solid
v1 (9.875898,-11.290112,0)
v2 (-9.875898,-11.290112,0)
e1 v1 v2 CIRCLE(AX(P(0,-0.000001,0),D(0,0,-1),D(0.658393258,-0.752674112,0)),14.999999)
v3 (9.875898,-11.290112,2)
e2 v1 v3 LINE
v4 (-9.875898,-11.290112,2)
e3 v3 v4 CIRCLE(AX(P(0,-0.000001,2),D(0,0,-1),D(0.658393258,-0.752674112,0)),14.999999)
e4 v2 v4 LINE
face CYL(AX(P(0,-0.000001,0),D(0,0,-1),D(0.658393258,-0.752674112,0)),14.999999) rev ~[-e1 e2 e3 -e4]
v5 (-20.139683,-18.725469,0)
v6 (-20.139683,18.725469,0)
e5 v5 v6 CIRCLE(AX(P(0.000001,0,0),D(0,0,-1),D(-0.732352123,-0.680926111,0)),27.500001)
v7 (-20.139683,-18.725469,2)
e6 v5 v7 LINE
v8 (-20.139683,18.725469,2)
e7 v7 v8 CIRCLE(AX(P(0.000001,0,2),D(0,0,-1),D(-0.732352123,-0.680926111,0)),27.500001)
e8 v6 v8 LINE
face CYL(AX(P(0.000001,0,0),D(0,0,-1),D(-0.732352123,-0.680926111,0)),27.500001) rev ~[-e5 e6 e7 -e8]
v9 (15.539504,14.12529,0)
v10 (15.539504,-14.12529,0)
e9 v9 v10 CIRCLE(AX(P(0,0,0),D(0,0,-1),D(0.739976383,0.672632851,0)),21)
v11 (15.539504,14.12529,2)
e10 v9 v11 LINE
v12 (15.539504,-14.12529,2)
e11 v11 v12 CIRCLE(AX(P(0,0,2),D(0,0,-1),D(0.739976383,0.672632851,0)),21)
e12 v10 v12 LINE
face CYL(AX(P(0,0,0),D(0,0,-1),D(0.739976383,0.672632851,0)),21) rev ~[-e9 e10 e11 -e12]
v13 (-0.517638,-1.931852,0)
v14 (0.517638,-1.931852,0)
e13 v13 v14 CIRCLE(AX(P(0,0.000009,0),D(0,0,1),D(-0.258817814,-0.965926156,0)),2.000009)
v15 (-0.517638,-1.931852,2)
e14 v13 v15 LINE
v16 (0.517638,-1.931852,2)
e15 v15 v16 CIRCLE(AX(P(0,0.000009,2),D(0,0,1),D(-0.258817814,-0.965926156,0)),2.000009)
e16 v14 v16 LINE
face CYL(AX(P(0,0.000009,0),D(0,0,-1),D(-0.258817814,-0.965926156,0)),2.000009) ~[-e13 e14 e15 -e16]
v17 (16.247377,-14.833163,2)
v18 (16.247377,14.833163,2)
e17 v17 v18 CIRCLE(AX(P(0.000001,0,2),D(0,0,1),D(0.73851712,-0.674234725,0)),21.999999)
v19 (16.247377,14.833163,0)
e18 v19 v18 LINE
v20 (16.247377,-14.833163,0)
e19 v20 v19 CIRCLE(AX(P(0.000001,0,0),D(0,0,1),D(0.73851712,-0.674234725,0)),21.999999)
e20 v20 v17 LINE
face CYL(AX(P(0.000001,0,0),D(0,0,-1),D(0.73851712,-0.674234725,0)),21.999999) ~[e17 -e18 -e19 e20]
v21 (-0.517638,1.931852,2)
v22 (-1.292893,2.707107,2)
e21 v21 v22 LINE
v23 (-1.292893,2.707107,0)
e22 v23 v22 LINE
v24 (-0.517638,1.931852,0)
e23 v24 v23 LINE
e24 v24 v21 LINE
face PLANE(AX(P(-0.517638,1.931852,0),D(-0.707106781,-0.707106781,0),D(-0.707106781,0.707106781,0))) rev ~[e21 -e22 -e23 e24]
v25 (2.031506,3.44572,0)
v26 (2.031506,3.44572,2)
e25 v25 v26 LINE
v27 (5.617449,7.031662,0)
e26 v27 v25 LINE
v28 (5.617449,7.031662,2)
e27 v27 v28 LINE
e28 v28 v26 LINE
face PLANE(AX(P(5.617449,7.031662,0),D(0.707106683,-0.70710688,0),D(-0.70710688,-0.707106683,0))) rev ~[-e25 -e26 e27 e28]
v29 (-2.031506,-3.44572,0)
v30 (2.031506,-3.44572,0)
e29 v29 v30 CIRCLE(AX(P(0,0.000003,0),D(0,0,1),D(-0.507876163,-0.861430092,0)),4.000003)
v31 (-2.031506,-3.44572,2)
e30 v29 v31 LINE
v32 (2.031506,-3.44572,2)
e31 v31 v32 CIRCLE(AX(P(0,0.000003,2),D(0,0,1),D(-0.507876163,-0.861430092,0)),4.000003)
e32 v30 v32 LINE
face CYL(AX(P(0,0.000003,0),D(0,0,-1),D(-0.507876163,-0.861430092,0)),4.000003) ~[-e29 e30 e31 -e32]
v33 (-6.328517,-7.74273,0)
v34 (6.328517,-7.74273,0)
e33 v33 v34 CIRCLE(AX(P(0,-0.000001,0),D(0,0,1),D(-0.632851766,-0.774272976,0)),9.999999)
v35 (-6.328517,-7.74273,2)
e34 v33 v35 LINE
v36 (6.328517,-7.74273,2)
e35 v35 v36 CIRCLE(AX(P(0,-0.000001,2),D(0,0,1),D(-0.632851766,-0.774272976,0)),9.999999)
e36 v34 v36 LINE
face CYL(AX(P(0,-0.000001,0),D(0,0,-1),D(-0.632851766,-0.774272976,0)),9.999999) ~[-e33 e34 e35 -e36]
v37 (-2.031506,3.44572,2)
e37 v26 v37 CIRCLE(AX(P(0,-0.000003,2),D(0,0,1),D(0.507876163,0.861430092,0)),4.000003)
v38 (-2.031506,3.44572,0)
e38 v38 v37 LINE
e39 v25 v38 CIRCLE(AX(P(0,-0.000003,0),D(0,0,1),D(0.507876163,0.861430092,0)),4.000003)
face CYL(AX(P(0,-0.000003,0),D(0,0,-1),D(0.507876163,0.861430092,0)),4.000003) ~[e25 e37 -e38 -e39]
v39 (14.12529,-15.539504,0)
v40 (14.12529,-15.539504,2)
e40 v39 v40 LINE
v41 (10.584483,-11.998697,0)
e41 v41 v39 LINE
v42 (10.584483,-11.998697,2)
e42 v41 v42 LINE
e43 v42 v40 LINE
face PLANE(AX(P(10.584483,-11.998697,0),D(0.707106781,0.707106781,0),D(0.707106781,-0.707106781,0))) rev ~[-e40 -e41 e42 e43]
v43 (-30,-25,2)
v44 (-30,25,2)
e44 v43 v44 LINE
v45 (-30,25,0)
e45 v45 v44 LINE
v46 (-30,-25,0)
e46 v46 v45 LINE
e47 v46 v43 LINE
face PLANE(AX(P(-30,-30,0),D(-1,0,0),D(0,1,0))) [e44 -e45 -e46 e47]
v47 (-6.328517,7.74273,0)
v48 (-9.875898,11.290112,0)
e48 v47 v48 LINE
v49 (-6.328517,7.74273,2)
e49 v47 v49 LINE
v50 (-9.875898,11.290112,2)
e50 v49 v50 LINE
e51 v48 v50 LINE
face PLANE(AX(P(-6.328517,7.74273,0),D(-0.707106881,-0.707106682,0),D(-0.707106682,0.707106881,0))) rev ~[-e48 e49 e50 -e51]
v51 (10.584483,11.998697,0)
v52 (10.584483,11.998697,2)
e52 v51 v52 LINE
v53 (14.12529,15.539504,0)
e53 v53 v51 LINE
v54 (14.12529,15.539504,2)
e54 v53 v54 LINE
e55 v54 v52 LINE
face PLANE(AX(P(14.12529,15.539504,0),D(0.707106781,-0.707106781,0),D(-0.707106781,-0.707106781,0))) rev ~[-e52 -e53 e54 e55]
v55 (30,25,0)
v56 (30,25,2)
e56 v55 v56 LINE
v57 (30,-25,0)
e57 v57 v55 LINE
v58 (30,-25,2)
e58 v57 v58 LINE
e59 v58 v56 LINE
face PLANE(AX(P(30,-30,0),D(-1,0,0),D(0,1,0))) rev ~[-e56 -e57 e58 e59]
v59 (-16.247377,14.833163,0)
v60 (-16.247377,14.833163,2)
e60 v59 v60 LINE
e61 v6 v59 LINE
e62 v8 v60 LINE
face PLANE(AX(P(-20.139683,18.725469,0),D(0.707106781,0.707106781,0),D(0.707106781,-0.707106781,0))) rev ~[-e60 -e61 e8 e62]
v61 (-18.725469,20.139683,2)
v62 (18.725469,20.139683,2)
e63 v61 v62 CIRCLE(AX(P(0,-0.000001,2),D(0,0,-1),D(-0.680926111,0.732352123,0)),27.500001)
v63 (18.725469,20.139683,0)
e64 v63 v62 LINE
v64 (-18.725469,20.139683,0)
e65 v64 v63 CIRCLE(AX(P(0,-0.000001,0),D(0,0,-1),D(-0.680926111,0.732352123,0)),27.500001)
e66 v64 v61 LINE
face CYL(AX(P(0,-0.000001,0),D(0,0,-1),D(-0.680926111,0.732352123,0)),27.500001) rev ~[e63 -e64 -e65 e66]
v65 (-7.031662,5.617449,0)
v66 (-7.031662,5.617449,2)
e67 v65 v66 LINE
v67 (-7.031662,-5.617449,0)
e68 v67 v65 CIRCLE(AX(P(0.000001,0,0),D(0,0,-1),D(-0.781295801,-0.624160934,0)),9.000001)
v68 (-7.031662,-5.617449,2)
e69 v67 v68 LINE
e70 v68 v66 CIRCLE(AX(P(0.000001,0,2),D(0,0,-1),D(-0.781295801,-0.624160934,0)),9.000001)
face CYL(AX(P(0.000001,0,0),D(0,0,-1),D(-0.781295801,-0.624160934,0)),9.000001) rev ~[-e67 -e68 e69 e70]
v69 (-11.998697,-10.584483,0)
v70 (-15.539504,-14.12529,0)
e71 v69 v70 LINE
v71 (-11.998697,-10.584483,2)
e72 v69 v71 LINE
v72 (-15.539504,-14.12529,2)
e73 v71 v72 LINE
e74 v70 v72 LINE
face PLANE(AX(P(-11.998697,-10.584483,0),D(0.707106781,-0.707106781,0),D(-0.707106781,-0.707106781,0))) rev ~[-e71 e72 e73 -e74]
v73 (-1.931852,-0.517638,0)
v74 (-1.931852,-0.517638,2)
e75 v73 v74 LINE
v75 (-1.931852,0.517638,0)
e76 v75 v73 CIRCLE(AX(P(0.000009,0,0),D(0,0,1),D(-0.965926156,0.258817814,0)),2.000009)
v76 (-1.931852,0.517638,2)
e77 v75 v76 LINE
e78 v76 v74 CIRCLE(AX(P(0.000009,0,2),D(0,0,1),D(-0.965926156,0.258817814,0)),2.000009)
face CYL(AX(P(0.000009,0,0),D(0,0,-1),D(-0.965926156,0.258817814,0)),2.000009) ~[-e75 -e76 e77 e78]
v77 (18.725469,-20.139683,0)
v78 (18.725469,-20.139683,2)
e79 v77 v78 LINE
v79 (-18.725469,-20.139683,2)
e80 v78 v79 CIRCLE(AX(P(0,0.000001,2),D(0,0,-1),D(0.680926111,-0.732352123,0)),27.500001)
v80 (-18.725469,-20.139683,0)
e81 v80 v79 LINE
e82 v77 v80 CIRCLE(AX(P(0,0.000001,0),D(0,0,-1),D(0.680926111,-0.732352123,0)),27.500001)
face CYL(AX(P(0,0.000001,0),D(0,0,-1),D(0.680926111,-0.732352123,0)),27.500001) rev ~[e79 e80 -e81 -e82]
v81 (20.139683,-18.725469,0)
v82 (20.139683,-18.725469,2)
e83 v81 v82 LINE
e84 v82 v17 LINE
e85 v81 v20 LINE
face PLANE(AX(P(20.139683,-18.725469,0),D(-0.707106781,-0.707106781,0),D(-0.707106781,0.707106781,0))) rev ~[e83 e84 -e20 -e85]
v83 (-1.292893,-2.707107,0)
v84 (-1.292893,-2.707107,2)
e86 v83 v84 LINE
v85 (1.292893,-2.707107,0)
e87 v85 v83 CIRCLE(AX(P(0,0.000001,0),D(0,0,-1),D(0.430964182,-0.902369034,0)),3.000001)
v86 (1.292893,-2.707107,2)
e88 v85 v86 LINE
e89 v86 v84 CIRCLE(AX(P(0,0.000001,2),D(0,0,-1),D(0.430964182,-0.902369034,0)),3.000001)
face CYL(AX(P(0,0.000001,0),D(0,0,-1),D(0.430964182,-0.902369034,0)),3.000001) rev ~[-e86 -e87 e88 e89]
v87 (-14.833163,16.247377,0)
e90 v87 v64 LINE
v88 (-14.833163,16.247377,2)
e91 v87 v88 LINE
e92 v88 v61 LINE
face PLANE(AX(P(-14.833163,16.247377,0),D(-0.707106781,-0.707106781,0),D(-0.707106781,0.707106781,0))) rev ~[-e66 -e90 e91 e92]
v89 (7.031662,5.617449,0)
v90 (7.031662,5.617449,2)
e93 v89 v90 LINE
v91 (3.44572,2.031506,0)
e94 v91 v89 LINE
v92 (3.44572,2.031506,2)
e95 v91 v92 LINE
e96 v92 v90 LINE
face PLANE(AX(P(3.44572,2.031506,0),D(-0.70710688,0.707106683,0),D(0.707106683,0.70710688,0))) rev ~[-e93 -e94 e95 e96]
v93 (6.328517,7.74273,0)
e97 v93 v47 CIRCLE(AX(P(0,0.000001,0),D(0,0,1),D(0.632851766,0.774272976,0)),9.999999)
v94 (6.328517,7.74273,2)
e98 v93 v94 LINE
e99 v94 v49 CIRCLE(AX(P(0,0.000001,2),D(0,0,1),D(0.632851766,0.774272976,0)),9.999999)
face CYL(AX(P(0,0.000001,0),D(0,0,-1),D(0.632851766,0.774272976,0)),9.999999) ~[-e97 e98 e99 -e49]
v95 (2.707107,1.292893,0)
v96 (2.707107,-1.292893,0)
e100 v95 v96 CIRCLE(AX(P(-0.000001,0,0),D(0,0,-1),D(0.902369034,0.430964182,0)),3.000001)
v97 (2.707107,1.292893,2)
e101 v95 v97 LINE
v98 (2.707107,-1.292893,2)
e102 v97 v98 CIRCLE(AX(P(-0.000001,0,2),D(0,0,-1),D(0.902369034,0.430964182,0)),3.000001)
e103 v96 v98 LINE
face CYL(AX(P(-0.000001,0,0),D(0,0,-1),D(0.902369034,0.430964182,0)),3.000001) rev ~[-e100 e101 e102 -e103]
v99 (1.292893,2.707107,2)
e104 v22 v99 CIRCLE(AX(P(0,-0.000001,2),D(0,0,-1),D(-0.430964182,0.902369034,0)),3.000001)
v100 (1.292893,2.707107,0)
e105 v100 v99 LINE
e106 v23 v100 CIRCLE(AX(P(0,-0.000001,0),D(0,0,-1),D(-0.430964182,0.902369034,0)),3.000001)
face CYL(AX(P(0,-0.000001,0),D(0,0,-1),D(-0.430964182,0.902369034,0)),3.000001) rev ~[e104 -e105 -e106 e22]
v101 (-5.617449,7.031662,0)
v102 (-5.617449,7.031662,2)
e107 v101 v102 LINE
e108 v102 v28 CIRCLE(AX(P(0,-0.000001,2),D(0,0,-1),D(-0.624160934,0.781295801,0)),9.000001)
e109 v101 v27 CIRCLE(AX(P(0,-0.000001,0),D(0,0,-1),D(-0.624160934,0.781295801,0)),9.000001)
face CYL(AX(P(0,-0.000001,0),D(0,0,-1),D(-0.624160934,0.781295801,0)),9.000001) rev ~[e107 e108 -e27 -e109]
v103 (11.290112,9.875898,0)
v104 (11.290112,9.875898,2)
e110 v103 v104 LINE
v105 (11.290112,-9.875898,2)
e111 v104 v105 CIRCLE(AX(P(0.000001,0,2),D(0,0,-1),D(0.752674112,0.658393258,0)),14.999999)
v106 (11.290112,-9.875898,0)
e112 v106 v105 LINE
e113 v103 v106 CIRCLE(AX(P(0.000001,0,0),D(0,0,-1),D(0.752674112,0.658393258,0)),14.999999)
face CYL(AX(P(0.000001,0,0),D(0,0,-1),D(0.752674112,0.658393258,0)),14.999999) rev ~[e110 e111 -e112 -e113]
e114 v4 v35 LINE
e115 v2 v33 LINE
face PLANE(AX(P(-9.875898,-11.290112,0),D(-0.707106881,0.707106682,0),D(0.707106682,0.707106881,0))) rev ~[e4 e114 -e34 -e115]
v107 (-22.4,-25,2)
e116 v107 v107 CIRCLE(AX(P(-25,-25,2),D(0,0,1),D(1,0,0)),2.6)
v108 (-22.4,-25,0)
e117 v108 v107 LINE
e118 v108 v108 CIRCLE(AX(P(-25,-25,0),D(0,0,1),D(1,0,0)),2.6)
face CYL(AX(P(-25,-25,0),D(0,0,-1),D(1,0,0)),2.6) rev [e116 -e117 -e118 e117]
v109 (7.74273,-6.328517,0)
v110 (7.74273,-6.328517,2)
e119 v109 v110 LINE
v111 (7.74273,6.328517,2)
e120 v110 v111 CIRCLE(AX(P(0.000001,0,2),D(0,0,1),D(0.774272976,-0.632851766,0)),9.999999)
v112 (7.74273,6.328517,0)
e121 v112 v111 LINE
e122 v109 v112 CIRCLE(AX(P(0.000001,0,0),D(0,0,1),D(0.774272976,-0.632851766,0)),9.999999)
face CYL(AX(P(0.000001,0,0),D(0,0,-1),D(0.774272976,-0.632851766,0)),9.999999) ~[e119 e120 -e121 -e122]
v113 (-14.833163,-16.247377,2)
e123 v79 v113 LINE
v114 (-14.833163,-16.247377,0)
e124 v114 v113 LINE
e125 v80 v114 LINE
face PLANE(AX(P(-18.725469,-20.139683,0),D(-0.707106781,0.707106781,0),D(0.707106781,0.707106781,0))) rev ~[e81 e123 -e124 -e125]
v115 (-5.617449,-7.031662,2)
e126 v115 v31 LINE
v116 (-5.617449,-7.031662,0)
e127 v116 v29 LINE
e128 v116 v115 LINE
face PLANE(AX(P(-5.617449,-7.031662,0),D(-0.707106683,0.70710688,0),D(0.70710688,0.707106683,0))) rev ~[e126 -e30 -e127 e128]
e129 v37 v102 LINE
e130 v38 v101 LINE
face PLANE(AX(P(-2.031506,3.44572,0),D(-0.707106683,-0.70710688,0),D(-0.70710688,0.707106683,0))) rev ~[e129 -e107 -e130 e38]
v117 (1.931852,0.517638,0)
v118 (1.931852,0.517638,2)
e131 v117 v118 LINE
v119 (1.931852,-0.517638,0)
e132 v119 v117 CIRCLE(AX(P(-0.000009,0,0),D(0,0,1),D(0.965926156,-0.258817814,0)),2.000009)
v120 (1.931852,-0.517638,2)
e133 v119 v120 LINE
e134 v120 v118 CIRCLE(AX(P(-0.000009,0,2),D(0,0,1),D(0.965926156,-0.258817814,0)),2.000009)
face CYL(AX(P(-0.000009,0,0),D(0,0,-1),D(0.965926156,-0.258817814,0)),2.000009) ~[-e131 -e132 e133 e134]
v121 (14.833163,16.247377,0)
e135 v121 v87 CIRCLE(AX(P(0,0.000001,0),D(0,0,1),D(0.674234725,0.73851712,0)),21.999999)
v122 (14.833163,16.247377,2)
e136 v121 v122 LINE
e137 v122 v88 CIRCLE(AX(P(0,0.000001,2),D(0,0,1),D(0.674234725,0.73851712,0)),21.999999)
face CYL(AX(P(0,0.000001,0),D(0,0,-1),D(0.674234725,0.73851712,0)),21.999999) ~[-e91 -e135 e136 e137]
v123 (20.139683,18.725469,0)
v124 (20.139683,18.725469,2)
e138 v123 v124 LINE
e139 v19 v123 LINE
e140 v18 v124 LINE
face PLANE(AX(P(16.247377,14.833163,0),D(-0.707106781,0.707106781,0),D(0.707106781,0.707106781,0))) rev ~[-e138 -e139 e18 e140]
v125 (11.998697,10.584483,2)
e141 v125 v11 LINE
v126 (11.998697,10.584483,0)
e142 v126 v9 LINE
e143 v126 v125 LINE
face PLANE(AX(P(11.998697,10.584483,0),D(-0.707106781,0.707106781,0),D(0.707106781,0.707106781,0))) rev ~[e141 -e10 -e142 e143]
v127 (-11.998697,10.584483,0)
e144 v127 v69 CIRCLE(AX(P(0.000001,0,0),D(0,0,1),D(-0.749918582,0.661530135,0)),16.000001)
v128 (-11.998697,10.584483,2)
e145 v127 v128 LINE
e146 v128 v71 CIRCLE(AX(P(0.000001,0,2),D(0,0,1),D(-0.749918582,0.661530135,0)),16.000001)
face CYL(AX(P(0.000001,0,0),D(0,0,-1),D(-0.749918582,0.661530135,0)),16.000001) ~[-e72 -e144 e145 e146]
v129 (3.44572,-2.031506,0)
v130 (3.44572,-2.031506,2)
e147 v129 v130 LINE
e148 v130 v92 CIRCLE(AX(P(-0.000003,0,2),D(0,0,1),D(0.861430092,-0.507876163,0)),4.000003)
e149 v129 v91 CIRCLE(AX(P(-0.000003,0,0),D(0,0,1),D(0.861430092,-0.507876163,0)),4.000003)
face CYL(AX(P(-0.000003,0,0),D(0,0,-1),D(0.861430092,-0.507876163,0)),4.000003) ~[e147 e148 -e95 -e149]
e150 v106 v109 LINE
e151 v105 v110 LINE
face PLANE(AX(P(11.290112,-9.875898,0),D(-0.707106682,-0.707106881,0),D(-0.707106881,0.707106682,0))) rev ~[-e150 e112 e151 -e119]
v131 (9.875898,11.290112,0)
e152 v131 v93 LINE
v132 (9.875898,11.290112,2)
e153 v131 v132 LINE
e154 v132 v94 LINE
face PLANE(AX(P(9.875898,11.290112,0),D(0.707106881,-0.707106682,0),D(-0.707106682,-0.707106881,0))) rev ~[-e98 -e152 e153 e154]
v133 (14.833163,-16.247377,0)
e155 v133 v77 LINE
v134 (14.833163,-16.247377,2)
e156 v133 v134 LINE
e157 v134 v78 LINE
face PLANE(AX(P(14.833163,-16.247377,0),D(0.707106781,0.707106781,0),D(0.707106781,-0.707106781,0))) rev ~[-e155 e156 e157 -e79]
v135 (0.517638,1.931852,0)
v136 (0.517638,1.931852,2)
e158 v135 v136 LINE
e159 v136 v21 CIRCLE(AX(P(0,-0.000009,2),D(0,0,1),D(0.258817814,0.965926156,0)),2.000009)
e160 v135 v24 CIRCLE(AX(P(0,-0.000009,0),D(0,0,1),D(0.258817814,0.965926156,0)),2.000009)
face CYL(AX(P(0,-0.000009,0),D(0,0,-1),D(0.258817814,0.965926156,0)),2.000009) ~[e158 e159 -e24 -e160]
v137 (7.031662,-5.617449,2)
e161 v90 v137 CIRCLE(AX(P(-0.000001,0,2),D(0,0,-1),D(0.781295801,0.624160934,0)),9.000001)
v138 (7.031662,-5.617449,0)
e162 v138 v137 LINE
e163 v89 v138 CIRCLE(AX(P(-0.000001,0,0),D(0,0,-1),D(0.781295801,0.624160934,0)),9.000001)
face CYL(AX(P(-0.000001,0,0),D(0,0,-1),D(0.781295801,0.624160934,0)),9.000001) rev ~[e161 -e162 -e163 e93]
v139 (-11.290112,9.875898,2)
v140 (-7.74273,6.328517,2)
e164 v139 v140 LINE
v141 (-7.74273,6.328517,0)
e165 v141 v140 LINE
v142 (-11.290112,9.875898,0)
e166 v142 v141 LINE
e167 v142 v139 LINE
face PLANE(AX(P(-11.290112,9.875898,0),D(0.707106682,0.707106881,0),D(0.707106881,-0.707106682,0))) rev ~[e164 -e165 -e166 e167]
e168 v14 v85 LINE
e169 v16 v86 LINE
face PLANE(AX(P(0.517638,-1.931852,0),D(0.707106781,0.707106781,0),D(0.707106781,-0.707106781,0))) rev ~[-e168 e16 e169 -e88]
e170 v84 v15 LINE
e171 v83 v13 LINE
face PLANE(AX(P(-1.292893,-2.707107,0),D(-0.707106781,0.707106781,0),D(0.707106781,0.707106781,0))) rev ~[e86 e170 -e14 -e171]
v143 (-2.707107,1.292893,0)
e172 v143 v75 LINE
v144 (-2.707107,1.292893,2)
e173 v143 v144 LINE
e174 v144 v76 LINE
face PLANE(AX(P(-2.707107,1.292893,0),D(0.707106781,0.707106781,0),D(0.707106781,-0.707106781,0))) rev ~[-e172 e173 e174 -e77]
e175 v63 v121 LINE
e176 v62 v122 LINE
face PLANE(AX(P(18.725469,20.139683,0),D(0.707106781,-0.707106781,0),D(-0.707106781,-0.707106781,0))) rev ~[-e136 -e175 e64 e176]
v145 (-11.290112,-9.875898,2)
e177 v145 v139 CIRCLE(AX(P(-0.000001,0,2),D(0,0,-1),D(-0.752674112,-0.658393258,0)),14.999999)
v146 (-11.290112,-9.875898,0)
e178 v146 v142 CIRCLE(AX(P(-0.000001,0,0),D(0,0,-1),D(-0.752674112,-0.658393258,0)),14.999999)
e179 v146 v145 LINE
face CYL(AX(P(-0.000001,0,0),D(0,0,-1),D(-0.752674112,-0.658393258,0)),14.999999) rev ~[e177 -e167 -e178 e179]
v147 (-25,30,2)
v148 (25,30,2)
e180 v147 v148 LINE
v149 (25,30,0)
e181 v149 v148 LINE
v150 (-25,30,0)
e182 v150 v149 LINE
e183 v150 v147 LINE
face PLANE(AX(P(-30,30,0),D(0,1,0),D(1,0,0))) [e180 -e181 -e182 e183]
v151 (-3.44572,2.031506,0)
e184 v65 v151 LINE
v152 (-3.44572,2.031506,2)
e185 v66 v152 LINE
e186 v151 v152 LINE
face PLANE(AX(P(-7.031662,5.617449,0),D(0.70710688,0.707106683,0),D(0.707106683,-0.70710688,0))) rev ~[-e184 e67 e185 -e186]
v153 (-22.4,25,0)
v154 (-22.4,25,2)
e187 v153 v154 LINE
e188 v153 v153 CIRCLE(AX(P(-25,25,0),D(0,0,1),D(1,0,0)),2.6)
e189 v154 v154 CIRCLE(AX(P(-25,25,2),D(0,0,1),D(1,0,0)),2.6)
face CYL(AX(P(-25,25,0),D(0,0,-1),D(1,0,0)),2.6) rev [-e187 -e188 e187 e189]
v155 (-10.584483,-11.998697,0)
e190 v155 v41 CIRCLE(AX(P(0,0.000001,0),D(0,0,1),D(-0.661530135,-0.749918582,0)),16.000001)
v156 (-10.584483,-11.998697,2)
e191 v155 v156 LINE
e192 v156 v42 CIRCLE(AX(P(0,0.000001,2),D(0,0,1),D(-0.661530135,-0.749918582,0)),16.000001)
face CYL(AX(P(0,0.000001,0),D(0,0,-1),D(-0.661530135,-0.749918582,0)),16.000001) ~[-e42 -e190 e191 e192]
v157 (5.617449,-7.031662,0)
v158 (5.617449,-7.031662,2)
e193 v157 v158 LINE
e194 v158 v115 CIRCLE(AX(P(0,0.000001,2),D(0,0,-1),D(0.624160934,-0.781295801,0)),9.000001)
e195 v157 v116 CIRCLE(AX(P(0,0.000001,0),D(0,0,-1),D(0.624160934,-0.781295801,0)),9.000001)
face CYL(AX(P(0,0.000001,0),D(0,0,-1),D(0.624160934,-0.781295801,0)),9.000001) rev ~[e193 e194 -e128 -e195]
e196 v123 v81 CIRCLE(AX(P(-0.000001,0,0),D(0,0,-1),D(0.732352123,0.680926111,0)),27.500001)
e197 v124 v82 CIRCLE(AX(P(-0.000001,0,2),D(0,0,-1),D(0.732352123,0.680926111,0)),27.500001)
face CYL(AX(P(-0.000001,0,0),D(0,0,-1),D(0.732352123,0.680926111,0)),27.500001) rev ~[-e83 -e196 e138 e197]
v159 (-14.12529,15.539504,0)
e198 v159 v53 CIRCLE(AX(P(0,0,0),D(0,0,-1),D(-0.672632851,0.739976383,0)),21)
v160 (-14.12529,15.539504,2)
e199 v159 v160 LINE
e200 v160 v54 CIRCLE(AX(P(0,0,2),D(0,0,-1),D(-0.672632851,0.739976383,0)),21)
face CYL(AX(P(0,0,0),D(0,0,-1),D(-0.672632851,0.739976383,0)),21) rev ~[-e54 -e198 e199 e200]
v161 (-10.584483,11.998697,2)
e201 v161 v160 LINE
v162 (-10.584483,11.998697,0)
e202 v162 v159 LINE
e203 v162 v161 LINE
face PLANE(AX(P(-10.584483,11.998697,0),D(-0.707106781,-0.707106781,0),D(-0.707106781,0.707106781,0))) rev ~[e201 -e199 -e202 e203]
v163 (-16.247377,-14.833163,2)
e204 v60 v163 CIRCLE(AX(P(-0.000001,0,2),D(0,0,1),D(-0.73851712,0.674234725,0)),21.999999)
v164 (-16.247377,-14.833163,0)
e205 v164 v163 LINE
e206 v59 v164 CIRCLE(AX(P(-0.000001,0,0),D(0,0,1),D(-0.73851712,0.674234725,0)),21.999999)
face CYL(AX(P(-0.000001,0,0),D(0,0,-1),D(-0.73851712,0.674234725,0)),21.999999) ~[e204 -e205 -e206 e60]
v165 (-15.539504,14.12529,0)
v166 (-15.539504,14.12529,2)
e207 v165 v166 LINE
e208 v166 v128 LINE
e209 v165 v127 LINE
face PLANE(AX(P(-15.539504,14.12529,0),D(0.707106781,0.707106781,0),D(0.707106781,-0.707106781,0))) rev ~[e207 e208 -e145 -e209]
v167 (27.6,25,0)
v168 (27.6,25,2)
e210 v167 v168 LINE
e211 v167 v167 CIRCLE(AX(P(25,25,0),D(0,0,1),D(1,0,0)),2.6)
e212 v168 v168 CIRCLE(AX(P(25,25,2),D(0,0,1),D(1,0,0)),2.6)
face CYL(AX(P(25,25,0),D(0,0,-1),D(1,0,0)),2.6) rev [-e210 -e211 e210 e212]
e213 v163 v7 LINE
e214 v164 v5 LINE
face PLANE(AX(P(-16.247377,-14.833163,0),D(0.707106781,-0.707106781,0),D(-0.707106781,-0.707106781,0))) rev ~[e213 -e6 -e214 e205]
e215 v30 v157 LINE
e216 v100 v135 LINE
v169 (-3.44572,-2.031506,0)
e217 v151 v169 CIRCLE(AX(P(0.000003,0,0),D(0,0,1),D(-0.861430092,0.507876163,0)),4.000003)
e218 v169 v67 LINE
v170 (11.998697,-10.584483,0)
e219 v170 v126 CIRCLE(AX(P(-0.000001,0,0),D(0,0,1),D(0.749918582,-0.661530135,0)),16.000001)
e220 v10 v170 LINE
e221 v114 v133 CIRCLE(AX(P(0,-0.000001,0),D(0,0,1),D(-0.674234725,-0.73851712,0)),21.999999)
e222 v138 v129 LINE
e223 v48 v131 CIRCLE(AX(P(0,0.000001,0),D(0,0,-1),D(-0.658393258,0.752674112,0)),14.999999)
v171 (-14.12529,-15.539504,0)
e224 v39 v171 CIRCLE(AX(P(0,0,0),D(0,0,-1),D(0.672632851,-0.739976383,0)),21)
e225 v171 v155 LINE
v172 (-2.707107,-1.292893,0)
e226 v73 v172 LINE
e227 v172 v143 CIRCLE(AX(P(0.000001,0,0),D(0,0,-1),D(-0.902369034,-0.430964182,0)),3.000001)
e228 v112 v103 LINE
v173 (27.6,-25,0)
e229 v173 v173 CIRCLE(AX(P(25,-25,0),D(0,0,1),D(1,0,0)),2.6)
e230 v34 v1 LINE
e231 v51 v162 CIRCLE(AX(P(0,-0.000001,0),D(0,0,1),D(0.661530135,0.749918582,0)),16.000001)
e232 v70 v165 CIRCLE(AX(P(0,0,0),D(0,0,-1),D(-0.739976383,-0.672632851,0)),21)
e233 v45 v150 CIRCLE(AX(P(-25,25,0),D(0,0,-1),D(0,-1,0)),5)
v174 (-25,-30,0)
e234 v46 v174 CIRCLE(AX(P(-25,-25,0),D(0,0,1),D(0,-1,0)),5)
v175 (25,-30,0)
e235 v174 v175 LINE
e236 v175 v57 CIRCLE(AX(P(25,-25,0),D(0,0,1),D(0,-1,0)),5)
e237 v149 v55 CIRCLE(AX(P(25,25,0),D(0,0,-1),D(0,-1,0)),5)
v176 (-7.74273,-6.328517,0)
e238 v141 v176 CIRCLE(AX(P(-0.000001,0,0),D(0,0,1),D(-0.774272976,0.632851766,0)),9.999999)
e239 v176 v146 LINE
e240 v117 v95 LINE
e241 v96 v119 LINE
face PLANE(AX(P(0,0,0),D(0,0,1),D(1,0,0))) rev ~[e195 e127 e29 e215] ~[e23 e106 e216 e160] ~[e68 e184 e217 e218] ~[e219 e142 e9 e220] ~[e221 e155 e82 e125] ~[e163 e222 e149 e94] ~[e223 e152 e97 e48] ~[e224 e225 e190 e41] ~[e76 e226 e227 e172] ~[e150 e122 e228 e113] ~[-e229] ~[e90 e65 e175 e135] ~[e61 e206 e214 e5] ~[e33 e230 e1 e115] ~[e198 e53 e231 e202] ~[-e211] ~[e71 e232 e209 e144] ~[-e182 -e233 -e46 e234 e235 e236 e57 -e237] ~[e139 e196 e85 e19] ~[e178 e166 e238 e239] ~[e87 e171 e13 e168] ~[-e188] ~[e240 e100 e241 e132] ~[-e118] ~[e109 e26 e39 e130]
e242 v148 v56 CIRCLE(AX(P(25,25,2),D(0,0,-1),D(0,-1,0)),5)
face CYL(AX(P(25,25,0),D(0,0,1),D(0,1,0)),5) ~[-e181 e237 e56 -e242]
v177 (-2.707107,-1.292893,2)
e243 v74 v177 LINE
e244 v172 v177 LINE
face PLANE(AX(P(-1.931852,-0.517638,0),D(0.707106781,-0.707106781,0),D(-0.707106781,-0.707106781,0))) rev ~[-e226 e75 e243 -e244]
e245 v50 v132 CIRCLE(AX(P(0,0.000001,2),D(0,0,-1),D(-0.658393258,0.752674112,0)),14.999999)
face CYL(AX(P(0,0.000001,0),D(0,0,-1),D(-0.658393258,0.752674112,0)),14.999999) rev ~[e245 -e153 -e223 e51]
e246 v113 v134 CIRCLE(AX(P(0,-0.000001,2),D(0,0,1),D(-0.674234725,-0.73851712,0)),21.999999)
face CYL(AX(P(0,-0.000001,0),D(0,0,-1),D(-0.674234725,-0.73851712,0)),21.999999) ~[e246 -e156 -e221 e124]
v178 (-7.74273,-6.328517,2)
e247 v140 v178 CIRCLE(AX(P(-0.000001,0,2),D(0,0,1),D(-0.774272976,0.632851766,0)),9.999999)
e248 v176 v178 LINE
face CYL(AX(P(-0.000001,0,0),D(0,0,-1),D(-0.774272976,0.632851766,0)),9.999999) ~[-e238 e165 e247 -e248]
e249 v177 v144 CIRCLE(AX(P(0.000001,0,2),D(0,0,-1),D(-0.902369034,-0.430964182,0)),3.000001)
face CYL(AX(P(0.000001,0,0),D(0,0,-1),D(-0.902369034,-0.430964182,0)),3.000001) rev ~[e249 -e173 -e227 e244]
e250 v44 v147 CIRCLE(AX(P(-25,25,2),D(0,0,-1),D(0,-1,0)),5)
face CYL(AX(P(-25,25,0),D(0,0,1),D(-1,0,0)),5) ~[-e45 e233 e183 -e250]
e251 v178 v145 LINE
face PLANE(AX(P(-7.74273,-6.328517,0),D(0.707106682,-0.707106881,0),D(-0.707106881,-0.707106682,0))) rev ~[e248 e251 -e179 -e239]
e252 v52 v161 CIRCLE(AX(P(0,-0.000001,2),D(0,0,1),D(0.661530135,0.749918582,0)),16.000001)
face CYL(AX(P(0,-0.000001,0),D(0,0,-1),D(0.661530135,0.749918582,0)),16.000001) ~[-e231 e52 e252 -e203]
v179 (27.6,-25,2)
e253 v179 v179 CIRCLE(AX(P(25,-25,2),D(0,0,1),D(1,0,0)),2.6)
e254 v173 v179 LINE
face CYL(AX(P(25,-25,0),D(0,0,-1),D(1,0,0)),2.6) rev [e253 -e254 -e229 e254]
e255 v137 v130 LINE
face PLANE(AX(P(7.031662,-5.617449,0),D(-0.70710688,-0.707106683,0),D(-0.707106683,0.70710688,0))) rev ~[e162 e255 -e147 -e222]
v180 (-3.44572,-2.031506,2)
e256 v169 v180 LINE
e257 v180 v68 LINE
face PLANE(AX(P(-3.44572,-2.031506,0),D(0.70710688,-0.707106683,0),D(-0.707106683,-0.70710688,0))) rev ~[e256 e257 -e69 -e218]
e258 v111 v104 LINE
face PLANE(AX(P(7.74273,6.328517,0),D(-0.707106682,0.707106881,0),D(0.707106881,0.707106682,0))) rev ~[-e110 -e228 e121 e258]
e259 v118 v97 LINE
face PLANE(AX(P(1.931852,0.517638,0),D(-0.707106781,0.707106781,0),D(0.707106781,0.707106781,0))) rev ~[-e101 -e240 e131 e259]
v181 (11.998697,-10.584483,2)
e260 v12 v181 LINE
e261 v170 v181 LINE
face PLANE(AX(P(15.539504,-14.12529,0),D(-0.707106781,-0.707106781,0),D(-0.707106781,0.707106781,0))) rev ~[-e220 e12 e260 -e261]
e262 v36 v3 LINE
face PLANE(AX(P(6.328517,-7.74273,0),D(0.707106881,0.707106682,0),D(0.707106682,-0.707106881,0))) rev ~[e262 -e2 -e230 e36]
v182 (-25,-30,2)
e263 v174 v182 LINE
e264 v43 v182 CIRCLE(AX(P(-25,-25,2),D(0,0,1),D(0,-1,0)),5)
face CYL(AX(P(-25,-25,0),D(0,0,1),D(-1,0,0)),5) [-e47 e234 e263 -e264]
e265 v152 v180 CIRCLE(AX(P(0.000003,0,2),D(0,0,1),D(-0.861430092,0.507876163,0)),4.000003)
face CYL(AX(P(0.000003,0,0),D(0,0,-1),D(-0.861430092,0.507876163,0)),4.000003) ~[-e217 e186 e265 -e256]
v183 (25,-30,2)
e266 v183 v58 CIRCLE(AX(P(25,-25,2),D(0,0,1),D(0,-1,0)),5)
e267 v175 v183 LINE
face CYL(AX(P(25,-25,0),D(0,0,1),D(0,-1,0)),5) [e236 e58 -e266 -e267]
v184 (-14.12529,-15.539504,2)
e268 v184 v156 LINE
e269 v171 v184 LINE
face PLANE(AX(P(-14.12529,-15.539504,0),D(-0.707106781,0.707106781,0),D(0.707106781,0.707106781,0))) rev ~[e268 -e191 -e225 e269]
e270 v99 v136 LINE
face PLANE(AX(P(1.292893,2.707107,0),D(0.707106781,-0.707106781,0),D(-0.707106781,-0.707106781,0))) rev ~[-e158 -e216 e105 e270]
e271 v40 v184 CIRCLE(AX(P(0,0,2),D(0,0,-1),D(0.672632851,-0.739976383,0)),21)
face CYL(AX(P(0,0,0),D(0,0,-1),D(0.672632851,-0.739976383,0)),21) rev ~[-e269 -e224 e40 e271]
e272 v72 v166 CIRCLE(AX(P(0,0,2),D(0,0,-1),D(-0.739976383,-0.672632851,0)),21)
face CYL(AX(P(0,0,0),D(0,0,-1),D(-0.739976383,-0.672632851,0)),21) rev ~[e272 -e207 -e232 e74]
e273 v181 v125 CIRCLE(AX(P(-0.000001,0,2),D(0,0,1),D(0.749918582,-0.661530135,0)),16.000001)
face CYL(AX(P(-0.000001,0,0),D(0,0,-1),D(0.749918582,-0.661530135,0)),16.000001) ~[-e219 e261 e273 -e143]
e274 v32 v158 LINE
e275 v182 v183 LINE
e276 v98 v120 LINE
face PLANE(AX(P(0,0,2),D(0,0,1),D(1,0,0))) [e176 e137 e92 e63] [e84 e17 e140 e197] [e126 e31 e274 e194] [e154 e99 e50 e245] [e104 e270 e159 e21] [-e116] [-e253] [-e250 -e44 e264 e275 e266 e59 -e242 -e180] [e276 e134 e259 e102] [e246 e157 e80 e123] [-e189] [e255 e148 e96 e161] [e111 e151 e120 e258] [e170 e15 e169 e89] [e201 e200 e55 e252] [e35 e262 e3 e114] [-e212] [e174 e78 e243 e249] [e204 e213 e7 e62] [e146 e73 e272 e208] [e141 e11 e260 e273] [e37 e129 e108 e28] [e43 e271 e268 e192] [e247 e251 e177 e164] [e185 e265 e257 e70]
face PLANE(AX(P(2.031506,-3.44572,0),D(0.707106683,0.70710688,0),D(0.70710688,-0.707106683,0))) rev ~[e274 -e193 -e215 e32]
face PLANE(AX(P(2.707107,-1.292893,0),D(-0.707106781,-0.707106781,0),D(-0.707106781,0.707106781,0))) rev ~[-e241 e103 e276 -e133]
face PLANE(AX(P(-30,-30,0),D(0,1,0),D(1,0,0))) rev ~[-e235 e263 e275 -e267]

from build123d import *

# Parameters (mm, degrees)
F0_W     = 60
F0_H     = 60
F0_R     = 2.6
F1_DEPTH = 2
F2_R     = 5


with BuildPart() as f1:
    # F0 (on Top) → F1 (new body)
    with BuildSketch(Plane.XY):
        Rectangle(F0_W, F0_H)
        with Locations((-25, -25)):
            Circle(F0_R, mode=Mode.SUBTRACT)
        with BuildLine():
            Line((-15.539504, 14.12529), (-11.998697, 10.584483))
            ThreePointArc((-11.998697, 10.584483), (-16, 0), (-11.998697, -10.584483))
            Line((-11.998697, -10.584483), (-15.539504, -14.12529))
            ThreePointArc((-15.539504, -14.12529), (-21, 0), (-15.539504, 14.12529))
        make_face(mode=Mode.SUBTRACT)
        with BuildLine():
            ThreePointArc((18.725469, -20.139683), (0, -27.5), (-18.725469, -20.139683))
            Line((-18.725469, -20.139683), (-14.833163, -16.247377))
            ThreePointArc((-14.833163, -16.247377), (0, -22), (14.833163, -16.247377))
            Line((14.833163, -16.247377), (18.725469, -20.139683))
        make_face(mode=Mode.SUBTRACT)
        with BuildLine():
            ThreePointArc((14.12529, -15.539504), (0, -21), (-14.12529, -15.539504))
            Line((-14.12529, -15.539504), (-10.584483, -11.998697))
            ThreePointArc((-10.584483, -11.998697), (0, -16), (10.584483, -11.998697))
            Line((10.584483, -11.998697), (14.12529, -15.539504))
        make_face(mode=Mode.SUBTRACT)
        with Locations((25, -25)):
            Circle(F0_R, mode=Mode.SUBTRACT)
        with BuildLine():
            Line((-9.875898, -11.290112), (-6.328517, -7.74273))
            ThreePointArc((-6.328517, -7.74273), (0, -10), (6.328517, -7.74273))
            Line((6.328517, -7.74273), (9.875898, -11.290112))
            ThreePointArc((9.875898, -11.290112), (0, -15), (-9.875898, -11.290112))
        make_face(mode=Mode.SUBTRACT)
        with BuildLine():
            Line((-5.617449, -7.031662), (-2.031506, -3.44572))
            ThreePointArc((-2.031506, -3.44572), (0, -4), (2.031506, -3.44572))
            Line((2.031506, -3.44572), (5.617449, -7.031662))
            ThreePointArc((5.617449, -7.031662), (0, -9), (-5.617449, -7.031662))
        make_face(mode=Mode.SUBTRACT)
        with BuildLine():
            Line((0.517638, -1.931852), (1.292893, -2.707107))
            ThreePointArc((1.292893, -2.707107), (0, -3), (-1.292893, -2.707107))
            Line((-1.292893, -2.707107), (-0.517638, -1.931852))
            ThreePointArc((-0.517638, -1.931852), (0, -2), (0.517638, -1.931852))
        make_face(mode=Mode.SUBTRACT)
        with BuildLine():
            Line((-20.139683, 18.725469), (-16.247377, 14.833163))
            ThreePointArc((-16.247377, 14.833163), (-22, 0), (-16.247377, -14.833163))
            Line((-16.247377, -14.833163), (-20.139683, -18.725469))
            ThreePointArc((-20.139683, -18.725469), (-27.5, 0), (-20.139683, 18.725469))
        make_face(mode=Mode.SUBTRACT)
        with BuildLine():
            ThreePointArc((-11.290112, -9.875898), (-15, 0), (-11.290112, 9.875898))
            Line((-11.290112, 9.875898), (-7.74273, 6.328517))
            ThreePointArc((-7.74273, 6.328517), (-10, 0), (-7.74273, -6.328517))
            Line((-7.74273, -6.328517), (-11.290112, -9.875898))
        make_face(mode=Mode.SUBTRACT)
        with BuildLine():
            ThreePointArc((-7.031662, -5.617449), (-9, 0), (-7.031662, 5.617449))
            Line((-7.031662, 5.617449), (-3.44572, 2.031506))
            ThreePointArc((-3.44572, 2.031506), (-4, 0), (-3.44572, -2.031506))
            Line((-3.44572, -2.031506), (-7.031662, -5.617449))
        make_face(mode=Mode.SUBTRACT)
        with BuildLine():
            ThreePointArc((-2.707107, -1.292893), (-3, 0), (-2.707107, 1.292893))
            Line((-2.707107, 1.292893), (-1.931852, 0.517638))
            ThreePointArc((-1.931852, 0.517638), (-2, 0), (-1.931852, -0.517638))
            Line((-1.931852, -0.517638), (-2.707107, -1.292893))
        make_face(mode=Mode.SUBTRACT)
        with Locations((-25, 25)):
            Circle(F0_R, mode=Mode.SUBTRACT)
        with BuildLine():
            Line((2.707107, -1.292893), (1.931852, -0.517638))
            ThreePointArc((1.931852, -0.517638), (2, 0), (1.931852, 0.517638))
            Line((1.931852, 0.517638), (2.707107, 1.292893))
            ThreePointArc((2.707107, 1.292893), (3, 0), (2.707107, -1.292893))
        make_face(mode=Mode.SUBTRACT)
        with BuildLine():
            Line((-0.517638, 1.931852), (-1.292893, 2.707107))
            ThreePointArc((-1.292893, 2.707107), (0, 3), (1.292893, 2.707107))
            Line((1.292893, 2.707107), (0.517638, 1.931852))
            ThreePointArc((0.517638, 1.931852), (0, 2), (-0.517638, 1.931852))
        make_face(mode=Mode.SUBTRACT)
        with BuildLine():
            Line((7.031662, -5.617449), (3.44572, -2.031506))
            ThreePointArc((3.44572, -2.031506), (4, 0), (3.44572, 2.031506))
            Line((3.44572, 2.031506), (7.031662, 5.617449))
            ThreePointArc((7.031662, 5.617449), (9, 0), (7.031662, -5.617449))
        make_face(mode=Mode.SUBTRACT)
        with BuildLine():
            Line((-2.031506, 3.44572), (-5.617449, 7.031662))
            ThreePointArc((-5.617449, 7.031662), (0, 9), (5.617449, 7.031662))
            Line((5.617449, 7.031662), (2.031506, 3.44572))
            ThreePointArc((2.031506, 3.44572), (0, 4), (-2.031506, 3.44572))
        make_face(mode=Mode.SUBTRACT)
        with BuildLine():
            ThreePointArc((11.290112, 9.875898), (15, 0), (11.290112, -9.875898))
            Line((11.290112, -9.875898), (7.74273, -6.328517))
            ThreePointArc((7.74273, -6.328517), (10, 0), (7.74273, 6.328517))
            Line((7.74273, 6.328517), (11.290112, 9.875898))
        make_face(mode=Mode.SUBTRACT)
        with BuildLine():
            Line((-6.328517, 7.74273), (-9.875898, 11.290112))
            ThreePointArc((-9.875898, 11.290112), (0, 15), (9.875898, 11.290112))
            Line((9.875898, 11.290112), (6.328517, 7.74273))
            ThreePointArc((6.328517, 7.74273), (0, 10), (-6.328517, 7.74273))
        make_face(mode=Mode.SUBTRACT)
        with BuildLine():
            Line((15.539504, -14.12529), (11.998697, -10.584483))
            ThreePointArc((11.998697, -10.584483), (16, 0), (11.998697, 10.584483))
            Line((11.998697, 10.584483), (15.539504, 14.12529))
            ThreePointArc((15.539504, 14.12529), (21, 0), (15.539504, -14.12529))
        make_face(mode=Mode.SUBTRACT)
        with BuildLine():
            Line((16.247377, 14.833163), (20.139683, 18.725469))
            ThreePointArc((20.139683, 18.725469), (27.5, 0), (20.139683, -18.725469))
            Line((20.139683, -18.725469), (16.247377, -14.833163))
            ThreePointArc((16.247377, -14.833163), (22, 0), (16.247377, 14.833163))
        make_face(mode=Mode.SUBTRACT)
        with BuildLine():
            Line((-10.584483, 11.998697), (-14.12529, 15.539504))
            ThreePointArc((-14.12529, 15.539504), (0, 21), (14.12529, 15.539504))
            Line((14.12529, 15.539504), (10.584483, 11.998697))
            ThreePointArc((10.584483, 11.998697), (0, 16), (-10.584483, 11.998697))
        make_face(mode=Mode.SUBTRACT)
        with BuildLine():
            Line((-14.833163, 16.247377), (-18.725469, 20.139683))
            ThreePointArc((-18.725469, 20.139683), (0, 27.5), (18.725469, 20.139683))
            Line((18.725469, 20.139683), (14.833163, 16.247377))
            ThreePointArc((14.833163, 16.247377), (0, 22), (-14.833163, 16.247377))
        make_face(mode=Mode.SUBTRACT)
        with Locations((25, 25)):
            Circle(F0_R, mode=Mode.SUBTRACT)
    extrude(amount=F1_DEPTH)

    # F2
    f2_edges = [f1.edges().sort_by_distance(p)[0] for p in [
        (30, 30, 1),
        (-30, 30, 1),
        (-30, -30, 1),
        (30, -30, 1),
    ]]
    fillet(f2_edges, radius=F2_R)


solid = f1.part
